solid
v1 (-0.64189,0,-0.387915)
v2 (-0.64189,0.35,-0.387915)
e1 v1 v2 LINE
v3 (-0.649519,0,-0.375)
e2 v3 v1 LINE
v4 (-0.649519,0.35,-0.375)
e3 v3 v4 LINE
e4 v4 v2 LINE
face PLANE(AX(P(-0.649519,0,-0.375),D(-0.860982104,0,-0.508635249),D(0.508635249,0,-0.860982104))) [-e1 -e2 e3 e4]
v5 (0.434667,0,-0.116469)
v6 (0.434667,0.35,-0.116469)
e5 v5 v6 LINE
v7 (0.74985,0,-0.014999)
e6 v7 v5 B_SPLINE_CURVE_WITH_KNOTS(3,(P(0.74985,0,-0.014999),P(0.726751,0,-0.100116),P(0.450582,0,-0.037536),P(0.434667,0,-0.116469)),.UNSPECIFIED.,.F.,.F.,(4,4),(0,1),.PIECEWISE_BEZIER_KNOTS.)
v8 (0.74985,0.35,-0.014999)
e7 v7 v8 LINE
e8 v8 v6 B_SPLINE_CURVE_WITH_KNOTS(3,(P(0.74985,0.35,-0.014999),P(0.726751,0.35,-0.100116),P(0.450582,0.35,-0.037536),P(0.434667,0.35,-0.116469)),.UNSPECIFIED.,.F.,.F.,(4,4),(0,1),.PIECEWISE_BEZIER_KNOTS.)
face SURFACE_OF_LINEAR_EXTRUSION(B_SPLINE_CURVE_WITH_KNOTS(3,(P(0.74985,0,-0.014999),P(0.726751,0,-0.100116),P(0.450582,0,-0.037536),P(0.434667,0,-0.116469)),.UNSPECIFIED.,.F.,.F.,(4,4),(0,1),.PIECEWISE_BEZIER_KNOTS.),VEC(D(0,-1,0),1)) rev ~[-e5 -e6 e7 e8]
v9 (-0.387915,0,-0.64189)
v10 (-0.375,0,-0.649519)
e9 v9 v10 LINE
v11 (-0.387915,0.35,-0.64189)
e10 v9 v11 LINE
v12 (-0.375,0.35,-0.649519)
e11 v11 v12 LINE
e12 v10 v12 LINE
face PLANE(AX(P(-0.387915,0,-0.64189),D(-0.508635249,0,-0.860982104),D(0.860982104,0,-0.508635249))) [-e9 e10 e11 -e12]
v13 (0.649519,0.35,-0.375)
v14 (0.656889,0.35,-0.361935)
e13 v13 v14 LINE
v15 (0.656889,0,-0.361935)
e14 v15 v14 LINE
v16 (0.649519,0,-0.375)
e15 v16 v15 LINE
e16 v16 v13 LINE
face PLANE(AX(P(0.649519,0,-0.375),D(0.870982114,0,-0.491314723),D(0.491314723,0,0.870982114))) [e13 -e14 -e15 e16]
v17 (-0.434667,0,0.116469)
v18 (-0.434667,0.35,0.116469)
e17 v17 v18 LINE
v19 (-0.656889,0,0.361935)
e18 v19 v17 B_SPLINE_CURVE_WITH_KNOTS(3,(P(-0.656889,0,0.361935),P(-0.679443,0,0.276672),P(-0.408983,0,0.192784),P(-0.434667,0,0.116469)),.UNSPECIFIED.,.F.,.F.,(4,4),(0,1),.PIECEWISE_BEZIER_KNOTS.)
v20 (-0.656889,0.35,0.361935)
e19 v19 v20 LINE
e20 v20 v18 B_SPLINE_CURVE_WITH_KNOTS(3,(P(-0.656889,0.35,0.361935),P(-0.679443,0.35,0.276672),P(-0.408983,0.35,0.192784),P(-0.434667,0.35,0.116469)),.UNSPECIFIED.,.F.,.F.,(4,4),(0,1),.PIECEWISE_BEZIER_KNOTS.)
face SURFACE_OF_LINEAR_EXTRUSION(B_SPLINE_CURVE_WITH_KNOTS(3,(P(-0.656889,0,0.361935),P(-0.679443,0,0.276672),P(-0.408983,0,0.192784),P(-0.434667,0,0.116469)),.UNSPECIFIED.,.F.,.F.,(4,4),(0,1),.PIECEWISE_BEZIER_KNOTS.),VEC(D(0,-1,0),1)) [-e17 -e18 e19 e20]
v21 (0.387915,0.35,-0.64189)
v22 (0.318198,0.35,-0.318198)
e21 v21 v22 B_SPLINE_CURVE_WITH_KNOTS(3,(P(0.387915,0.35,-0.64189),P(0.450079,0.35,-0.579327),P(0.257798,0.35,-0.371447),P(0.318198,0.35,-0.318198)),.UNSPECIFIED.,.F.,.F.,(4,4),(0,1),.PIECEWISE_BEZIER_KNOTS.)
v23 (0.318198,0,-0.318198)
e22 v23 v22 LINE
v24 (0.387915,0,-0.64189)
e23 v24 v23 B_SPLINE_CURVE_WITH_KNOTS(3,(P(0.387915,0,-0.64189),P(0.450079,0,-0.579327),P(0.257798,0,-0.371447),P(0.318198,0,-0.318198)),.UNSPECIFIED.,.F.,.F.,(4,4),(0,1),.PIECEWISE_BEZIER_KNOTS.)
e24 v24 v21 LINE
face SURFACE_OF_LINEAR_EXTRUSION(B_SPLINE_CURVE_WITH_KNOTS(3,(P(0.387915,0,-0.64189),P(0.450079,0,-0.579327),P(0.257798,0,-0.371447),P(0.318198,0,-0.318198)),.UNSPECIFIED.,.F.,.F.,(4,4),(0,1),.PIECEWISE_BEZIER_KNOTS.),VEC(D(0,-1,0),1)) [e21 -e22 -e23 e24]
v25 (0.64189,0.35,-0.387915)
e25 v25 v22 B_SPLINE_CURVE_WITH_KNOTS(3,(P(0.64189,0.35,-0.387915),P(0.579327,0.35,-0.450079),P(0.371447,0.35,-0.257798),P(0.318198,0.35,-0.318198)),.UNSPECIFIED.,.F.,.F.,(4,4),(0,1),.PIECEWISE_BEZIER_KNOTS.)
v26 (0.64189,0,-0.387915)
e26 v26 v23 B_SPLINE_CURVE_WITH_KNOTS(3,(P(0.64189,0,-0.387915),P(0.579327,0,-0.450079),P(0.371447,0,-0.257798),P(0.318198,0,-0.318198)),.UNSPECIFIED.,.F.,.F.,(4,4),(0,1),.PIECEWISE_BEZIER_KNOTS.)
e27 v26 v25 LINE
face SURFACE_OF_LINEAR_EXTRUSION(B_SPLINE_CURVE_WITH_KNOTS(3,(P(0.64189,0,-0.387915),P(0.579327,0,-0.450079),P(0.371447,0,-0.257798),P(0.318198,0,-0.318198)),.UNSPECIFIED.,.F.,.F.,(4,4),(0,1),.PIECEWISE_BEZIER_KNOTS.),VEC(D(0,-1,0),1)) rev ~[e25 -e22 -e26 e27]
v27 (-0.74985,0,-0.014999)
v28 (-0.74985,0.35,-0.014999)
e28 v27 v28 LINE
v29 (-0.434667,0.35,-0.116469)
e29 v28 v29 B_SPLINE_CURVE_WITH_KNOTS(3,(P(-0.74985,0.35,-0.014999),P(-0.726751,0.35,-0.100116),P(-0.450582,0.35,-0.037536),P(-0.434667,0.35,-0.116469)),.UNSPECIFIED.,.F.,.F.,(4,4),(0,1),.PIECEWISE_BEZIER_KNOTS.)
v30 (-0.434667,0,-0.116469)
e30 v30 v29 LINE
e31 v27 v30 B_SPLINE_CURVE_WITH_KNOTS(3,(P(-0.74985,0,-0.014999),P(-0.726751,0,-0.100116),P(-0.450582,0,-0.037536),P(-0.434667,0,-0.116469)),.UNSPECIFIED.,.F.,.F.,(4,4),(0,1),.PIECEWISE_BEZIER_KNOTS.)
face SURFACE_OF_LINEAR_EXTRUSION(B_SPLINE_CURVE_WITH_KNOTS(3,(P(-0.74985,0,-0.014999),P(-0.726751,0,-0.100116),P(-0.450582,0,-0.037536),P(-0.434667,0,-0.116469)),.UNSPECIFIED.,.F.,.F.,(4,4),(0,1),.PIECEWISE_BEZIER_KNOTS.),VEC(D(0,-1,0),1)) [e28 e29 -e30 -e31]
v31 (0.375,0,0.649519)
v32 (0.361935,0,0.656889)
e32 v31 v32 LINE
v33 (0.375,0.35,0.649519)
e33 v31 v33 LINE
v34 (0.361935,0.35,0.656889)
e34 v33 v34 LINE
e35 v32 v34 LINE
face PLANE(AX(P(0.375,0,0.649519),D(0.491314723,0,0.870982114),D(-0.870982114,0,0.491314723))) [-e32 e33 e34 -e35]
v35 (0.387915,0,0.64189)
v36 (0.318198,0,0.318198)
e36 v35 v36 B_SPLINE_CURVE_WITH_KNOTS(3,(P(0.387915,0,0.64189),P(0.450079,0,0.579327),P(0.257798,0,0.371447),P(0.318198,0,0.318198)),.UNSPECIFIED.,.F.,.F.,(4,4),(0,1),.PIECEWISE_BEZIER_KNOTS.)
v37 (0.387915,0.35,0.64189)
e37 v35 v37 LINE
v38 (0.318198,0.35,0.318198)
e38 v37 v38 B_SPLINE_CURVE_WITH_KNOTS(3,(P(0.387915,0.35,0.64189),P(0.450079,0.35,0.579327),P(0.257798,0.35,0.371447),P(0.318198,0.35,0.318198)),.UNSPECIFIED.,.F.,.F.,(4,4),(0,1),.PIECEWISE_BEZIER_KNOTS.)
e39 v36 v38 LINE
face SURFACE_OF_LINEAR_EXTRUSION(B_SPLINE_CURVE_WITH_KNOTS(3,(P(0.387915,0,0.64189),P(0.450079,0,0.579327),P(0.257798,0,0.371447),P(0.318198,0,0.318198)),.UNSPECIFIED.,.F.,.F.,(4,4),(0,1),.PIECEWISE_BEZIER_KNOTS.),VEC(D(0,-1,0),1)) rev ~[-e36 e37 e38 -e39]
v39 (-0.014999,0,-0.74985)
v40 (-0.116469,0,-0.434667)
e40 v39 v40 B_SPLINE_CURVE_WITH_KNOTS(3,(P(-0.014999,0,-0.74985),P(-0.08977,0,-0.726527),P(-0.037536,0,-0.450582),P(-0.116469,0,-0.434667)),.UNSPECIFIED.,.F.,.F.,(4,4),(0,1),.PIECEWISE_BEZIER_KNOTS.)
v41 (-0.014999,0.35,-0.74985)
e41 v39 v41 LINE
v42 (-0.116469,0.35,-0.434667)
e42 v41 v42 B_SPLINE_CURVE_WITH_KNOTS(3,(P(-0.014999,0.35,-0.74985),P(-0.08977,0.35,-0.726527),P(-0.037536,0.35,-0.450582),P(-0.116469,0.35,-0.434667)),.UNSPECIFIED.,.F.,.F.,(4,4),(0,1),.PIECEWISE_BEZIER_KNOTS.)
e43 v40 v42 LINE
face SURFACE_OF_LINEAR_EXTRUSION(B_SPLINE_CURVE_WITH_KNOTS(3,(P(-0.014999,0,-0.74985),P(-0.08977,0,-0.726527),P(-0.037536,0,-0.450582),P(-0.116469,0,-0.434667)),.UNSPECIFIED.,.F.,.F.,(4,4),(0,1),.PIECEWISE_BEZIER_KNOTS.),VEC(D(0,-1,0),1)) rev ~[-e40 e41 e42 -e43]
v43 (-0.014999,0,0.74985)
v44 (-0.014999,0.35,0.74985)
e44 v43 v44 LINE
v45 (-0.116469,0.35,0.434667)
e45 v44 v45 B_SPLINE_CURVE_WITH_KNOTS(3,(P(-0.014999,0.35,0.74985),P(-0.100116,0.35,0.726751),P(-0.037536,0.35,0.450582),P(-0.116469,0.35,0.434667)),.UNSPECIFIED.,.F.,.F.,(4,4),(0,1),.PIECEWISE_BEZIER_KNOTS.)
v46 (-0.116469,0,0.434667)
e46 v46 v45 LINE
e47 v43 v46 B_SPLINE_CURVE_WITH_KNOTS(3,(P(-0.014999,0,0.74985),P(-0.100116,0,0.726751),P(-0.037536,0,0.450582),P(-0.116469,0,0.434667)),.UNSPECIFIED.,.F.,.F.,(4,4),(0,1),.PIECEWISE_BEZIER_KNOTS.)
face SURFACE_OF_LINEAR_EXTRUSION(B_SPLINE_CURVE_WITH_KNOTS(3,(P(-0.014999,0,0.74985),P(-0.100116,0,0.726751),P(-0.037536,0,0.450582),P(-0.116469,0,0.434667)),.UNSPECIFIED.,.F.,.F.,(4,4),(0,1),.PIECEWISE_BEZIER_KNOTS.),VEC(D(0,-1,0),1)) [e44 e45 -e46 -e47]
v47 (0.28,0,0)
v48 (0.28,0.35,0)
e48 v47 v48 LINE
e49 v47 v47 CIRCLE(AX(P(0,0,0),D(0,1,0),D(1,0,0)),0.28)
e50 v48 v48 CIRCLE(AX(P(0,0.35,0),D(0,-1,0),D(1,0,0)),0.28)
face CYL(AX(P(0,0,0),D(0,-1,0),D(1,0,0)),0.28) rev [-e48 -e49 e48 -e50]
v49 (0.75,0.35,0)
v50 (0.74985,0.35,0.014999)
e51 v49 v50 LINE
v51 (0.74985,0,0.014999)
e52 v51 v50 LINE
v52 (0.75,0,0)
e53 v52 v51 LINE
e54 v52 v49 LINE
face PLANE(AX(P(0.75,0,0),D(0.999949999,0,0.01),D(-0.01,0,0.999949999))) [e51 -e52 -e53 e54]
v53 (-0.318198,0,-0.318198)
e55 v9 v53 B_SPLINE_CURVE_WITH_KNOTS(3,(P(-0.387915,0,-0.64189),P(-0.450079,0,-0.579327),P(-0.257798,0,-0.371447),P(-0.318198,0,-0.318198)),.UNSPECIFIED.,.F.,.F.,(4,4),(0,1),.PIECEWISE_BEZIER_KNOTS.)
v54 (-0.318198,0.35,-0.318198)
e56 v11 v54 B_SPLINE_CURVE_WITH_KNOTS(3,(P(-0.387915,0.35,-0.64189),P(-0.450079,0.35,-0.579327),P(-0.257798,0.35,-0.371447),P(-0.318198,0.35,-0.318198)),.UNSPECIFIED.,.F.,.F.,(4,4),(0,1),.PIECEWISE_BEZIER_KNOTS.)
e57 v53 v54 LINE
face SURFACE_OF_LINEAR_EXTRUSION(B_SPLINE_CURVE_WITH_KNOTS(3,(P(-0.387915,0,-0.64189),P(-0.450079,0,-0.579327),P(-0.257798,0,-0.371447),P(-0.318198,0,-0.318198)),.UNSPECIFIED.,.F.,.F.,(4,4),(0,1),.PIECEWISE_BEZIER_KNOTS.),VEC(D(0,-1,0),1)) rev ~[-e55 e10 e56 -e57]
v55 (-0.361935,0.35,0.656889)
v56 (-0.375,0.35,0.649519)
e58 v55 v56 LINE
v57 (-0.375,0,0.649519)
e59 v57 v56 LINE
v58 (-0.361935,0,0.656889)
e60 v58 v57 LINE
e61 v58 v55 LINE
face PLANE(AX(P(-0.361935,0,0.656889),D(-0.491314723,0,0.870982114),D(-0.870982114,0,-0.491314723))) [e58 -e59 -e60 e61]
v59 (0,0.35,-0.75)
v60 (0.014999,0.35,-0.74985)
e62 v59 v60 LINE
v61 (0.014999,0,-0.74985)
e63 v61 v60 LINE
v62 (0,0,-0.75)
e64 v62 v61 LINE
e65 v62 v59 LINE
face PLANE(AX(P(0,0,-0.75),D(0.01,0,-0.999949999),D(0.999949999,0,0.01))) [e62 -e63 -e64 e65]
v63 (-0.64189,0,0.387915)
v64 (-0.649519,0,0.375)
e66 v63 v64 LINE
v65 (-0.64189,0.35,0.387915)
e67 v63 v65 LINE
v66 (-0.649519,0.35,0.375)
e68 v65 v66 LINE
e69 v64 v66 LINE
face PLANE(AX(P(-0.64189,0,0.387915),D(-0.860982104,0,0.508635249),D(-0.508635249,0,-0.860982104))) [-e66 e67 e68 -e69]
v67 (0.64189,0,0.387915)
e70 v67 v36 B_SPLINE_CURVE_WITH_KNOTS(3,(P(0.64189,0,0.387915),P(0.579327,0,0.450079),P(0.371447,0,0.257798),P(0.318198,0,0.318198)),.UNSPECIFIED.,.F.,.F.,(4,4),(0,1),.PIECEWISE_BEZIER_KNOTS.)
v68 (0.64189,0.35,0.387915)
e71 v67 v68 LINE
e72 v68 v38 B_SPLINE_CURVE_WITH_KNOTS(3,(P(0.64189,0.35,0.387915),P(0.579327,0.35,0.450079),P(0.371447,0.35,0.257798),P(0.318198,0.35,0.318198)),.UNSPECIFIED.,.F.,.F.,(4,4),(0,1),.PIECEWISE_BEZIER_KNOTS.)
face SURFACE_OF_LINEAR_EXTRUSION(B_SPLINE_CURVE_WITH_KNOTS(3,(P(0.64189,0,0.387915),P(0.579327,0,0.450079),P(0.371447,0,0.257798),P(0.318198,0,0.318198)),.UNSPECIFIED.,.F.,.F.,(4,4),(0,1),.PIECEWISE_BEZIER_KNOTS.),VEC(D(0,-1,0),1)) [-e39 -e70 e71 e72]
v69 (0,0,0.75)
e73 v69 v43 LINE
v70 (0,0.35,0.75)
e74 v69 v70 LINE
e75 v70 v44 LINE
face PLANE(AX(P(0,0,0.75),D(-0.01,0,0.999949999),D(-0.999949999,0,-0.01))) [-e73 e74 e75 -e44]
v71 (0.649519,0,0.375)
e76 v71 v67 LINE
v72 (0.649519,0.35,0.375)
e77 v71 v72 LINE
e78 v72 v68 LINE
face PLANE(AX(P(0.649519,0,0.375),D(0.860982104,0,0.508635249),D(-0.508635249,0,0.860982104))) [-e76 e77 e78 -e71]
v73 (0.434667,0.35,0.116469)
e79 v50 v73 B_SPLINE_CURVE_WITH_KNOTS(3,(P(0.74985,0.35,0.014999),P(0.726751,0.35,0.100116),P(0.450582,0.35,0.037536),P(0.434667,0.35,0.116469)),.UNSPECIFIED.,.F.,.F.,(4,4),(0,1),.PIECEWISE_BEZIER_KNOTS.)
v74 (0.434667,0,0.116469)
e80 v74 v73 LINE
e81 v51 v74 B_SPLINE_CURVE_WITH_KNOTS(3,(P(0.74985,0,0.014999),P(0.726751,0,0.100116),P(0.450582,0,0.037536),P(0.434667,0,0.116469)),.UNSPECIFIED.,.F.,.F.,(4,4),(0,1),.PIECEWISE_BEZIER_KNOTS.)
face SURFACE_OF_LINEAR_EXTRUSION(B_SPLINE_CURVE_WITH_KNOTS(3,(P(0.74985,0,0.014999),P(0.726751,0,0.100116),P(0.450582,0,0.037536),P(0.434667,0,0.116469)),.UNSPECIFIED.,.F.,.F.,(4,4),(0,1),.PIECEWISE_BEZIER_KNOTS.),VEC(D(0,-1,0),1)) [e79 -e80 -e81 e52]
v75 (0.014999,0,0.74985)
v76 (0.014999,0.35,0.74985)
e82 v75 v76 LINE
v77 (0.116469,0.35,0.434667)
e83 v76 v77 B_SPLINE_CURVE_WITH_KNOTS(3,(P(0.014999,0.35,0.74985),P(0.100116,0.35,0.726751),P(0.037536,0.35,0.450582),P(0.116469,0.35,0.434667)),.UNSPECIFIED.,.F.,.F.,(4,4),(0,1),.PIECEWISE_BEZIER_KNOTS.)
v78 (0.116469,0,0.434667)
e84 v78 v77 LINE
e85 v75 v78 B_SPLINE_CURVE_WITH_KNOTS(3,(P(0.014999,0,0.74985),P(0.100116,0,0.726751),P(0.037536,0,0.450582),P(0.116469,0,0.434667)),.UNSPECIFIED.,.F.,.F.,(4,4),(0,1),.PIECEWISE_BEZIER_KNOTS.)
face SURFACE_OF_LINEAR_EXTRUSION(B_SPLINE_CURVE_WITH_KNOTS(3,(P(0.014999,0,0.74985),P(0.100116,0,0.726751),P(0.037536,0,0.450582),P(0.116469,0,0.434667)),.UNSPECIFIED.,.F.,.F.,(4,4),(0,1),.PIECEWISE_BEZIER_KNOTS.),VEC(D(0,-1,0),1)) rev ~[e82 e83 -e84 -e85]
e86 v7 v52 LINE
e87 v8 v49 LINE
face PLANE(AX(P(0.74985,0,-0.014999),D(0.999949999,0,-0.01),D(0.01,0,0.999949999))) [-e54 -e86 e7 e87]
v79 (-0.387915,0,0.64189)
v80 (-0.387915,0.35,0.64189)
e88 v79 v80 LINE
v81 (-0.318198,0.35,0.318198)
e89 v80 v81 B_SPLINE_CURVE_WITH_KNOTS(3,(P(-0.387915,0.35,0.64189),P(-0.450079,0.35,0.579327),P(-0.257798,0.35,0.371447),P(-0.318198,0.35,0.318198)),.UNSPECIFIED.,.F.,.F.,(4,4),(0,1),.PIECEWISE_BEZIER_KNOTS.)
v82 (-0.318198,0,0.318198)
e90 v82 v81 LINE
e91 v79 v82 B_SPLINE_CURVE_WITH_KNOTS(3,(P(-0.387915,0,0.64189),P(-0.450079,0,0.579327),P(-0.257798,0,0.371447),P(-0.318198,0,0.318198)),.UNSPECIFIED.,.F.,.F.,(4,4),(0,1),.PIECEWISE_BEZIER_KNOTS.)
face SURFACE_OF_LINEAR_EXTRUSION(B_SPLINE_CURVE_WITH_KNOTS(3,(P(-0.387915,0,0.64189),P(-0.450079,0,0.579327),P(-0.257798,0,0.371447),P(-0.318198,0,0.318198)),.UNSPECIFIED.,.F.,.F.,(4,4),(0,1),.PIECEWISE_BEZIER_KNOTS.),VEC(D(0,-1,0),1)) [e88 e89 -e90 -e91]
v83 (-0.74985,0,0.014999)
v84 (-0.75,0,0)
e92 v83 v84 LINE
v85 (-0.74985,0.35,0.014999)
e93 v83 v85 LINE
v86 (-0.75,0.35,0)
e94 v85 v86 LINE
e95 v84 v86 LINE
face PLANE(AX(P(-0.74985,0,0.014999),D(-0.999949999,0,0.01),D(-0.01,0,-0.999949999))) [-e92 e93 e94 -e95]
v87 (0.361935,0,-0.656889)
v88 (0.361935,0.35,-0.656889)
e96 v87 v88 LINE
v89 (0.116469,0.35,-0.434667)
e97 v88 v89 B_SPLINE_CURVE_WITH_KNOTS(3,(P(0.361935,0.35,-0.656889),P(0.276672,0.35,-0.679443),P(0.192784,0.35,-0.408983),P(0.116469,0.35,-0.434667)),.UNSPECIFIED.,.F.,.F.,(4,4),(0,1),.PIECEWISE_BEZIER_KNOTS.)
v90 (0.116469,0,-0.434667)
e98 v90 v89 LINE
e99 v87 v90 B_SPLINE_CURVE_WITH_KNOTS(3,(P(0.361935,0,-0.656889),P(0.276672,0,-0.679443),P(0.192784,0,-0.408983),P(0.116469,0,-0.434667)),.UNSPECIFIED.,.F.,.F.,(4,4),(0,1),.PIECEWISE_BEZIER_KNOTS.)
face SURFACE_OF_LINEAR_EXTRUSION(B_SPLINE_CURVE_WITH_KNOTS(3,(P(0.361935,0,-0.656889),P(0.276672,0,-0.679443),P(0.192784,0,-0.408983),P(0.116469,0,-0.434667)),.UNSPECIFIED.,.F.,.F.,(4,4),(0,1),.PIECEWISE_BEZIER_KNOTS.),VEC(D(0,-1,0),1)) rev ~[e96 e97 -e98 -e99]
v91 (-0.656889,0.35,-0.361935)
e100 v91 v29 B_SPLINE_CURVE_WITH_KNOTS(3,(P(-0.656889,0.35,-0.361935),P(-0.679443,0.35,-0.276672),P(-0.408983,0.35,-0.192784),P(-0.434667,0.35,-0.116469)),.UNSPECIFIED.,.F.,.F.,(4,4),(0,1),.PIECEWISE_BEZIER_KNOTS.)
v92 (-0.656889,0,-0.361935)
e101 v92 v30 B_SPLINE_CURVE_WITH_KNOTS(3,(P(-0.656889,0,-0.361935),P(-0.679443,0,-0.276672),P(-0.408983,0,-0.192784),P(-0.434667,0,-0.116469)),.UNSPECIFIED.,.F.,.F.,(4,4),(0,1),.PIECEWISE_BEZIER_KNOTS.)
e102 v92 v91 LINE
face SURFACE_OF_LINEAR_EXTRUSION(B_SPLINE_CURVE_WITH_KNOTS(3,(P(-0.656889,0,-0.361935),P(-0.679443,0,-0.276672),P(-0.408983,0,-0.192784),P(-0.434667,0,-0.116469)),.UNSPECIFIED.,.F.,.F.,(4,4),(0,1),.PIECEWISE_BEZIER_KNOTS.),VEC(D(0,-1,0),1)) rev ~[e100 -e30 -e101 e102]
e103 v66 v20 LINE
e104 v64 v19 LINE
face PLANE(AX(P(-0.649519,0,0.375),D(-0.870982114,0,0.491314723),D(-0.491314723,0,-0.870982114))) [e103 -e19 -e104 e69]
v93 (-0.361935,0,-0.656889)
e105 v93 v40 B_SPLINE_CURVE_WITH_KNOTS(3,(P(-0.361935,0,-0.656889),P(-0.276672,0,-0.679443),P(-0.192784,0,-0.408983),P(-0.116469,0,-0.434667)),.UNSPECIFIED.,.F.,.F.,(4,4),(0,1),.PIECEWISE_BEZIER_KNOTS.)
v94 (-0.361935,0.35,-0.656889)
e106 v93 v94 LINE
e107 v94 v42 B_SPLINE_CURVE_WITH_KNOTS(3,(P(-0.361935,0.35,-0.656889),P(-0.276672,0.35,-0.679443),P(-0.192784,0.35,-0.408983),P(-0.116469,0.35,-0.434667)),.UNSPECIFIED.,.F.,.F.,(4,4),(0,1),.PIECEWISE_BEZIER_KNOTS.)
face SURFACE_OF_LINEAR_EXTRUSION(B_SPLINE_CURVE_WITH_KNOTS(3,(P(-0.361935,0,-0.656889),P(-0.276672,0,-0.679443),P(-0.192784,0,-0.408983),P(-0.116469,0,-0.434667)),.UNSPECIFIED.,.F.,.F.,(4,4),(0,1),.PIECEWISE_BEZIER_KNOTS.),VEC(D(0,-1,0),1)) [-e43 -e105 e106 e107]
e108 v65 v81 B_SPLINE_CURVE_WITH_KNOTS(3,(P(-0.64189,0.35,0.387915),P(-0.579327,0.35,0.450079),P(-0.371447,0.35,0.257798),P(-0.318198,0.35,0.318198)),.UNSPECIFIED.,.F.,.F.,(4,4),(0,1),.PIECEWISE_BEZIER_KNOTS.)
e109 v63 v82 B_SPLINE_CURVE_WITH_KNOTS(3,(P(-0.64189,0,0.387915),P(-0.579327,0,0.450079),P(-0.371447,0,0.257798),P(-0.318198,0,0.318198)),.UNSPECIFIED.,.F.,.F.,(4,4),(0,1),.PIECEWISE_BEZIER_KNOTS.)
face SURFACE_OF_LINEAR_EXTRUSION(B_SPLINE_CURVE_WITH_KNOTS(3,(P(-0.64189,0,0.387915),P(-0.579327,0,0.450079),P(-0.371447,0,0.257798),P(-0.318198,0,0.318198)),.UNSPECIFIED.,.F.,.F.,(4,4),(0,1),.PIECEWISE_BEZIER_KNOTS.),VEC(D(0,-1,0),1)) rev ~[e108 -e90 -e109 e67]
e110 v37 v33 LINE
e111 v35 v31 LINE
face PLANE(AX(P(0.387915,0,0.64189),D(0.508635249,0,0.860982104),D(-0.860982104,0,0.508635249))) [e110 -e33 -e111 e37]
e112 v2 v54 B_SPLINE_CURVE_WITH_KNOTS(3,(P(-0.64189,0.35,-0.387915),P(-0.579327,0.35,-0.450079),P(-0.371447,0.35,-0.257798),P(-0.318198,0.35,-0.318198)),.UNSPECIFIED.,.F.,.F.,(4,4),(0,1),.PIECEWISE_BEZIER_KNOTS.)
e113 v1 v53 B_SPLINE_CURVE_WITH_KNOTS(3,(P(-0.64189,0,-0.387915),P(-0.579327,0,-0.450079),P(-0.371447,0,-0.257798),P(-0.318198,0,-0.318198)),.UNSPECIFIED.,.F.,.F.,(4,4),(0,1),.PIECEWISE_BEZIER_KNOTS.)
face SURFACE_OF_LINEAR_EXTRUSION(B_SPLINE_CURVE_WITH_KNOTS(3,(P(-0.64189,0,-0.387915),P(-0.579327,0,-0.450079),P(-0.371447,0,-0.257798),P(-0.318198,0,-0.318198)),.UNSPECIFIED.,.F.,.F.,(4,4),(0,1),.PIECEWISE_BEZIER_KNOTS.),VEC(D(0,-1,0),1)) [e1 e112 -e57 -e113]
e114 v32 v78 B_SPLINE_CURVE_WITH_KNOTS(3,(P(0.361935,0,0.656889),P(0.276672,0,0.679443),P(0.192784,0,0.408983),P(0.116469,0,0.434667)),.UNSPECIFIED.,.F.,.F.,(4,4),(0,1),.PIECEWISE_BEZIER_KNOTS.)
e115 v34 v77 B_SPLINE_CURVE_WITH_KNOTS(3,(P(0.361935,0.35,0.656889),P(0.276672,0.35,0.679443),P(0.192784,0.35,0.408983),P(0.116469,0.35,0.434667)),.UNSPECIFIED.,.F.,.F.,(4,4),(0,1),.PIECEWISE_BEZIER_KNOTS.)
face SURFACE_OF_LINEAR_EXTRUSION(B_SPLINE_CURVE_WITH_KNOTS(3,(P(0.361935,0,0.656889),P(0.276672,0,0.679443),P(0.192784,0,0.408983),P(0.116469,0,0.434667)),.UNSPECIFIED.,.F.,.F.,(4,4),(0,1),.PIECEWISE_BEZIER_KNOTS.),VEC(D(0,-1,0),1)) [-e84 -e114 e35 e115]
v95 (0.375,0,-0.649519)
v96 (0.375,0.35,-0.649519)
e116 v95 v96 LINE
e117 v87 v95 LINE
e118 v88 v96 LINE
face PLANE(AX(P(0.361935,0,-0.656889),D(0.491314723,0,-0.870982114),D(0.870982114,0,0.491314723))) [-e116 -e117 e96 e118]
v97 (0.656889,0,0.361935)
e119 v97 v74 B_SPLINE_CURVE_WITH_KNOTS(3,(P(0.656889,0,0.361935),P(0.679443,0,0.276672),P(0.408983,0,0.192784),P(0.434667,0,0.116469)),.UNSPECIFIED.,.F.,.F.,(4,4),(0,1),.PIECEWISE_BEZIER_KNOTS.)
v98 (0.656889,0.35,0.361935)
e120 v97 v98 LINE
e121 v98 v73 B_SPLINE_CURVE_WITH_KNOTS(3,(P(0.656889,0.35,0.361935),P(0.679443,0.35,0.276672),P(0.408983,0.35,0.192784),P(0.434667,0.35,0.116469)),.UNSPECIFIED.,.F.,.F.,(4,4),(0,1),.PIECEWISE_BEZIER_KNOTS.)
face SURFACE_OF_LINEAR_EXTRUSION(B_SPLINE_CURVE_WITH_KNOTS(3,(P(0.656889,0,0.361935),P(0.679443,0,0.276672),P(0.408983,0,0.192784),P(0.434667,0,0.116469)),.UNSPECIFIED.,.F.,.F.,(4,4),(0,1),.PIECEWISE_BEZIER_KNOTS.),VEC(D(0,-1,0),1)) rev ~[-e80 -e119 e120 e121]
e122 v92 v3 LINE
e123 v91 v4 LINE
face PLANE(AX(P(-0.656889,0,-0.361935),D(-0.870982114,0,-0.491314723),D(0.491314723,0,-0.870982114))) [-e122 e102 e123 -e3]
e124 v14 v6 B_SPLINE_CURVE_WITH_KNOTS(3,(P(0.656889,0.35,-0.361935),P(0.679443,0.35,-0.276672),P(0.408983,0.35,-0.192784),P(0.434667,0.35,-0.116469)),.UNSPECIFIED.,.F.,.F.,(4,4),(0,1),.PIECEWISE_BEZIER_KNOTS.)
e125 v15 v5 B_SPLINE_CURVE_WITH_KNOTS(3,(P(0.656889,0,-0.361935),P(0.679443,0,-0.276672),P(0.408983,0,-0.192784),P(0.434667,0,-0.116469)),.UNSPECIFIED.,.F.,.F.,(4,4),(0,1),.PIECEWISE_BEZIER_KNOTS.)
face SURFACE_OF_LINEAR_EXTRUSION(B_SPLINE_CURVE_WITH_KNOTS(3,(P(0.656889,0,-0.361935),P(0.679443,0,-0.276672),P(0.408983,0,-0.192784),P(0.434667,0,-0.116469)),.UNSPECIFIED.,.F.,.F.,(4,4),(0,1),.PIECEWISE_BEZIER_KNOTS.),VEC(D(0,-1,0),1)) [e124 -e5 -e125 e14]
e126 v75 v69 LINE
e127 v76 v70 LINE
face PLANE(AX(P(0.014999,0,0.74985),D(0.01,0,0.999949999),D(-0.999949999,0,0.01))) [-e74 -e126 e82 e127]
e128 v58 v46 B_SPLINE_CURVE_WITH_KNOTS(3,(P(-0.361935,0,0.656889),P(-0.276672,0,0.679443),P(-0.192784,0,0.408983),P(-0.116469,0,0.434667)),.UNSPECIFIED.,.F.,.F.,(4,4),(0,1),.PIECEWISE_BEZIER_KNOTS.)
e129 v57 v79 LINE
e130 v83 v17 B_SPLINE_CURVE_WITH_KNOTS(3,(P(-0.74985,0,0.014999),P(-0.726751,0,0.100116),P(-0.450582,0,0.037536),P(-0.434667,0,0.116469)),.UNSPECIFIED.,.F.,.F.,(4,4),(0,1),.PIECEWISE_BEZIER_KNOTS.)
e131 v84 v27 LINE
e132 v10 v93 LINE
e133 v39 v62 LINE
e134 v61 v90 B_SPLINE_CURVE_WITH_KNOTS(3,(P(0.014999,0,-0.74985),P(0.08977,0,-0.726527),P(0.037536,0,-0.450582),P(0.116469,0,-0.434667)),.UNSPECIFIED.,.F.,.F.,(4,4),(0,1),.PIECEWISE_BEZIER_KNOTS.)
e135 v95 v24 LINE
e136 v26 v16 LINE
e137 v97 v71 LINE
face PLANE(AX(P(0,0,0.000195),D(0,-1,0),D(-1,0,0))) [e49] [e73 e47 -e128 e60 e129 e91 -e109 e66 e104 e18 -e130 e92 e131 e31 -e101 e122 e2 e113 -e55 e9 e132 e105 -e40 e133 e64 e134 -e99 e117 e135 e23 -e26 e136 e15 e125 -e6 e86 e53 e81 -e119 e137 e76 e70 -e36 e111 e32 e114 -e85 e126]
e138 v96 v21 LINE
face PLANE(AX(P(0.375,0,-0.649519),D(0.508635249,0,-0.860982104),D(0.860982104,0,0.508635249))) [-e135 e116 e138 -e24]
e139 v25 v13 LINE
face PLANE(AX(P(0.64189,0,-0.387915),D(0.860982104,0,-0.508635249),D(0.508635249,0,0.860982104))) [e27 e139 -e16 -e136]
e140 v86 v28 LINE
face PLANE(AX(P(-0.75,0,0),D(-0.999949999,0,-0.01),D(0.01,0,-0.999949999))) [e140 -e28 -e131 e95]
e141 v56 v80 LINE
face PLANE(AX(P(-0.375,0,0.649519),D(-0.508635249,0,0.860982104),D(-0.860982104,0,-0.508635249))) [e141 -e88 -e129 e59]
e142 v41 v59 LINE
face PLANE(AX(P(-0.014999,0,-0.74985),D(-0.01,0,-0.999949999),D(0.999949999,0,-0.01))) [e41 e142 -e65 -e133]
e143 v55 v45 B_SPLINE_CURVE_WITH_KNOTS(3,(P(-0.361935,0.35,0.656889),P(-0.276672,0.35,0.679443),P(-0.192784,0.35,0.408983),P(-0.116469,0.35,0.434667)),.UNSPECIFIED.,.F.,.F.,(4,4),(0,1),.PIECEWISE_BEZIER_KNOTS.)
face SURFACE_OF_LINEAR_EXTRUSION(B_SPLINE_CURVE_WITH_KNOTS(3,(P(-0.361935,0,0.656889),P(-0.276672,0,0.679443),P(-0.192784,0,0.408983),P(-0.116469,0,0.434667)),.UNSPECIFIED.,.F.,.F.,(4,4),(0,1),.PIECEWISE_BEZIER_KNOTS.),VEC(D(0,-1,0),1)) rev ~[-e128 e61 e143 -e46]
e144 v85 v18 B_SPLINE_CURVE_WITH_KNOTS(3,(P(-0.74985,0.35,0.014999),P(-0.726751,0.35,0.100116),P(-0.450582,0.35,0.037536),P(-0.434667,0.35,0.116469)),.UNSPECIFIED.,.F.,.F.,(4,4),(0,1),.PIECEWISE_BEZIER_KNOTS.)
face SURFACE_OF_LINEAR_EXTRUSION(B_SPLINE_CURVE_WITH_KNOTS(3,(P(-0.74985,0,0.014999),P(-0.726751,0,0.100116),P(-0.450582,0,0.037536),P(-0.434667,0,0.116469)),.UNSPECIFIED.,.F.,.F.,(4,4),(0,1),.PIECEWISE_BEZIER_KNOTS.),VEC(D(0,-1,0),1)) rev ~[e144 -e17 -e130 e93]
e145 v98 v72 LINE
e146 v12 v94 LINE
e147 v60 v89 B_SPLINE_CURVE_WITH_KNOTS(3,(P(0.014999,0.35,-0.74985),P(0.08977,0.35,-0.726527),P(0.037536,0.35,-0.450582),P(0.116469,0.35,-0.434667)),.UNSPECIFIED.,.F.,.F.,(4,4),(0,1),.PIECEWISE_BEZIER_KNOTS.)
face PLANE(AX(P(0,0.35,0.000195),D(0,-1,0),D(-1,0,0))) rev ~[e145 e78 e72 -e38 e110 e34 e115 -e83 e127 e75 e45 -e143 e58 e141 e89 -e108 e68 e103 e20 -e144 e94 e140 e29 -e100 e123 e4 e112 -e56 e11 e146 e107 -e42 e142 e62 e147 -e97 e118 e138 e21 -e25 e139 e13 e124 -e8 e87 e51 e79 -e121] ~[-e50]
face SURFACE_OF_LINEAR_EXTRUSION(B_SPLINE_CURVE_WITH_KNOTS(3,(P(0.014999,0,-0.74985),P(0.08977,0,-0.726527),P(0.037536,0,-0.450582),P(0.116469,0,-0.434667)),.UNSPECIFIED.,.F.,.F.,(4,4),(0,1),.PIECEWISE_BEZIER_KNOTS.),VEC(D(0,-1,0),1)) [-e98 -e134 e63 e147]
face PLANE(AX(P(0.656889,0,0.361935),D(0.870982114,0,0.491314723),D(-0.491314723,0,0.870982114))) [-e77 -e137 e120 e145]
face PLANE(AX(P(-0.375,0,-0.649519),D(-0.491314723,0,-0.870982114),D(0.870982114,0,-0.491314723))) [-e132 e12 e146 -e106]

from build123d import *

# Parameters (mm, degrees)
BOSS_EXTRUDE1_DEPTH = 0.35
SKETCH2_R           = 0.28
CUT_EXTRUDE1_DEPTH  = 1.3500001


with BuildPart() as part:
    # Sketch1 → Boss-Extrude1 (new body)
    with BuildSketch(Plane(origin=(0, 0, 0), x_dir=(1, 0, 0), z_dir=(0, 1, 0))):
        with BuildLine():
            Line((0, 0.75), (0.01499925, 0.74985))
            add(Edge.make_bspline(
                [(0.01499925, 0.74985), (0.089770208, 0.726526589), (0.037536283, 0.45058181), (0.11646857, 0.434666622)],
                knots=[0, 0, 0, 0, 1, 1, 1, 1], degree=3))
            add(Edge.make_bspline(
                [(0.361935268, 0.656888774), (0.27667218, 0.679442999), (0.19278353, 0.408983436), (0.11646857, 0.434666622)],
                knots=[0, 0, 0, 0, 1, 1, 1, 1], degree=3))
            Line((0.361935268, 0.656888774), (0.375, 0.649519053))
            Line((0.375, 0.649519053), (0.387914732, 0.641889524))
            add(Edge.make_bspline(
                [(0.387914732, 0.641889524), (0.450078807, 0.579326636), (0.25779828, 0.371447153), (0.318198052, 0.318198052)],
                knots=[0, 0, 0, 0, 1, 1, 1, 1], degree=3))
            add(Edge.make_bspline(
                [(0.641889524, 0.387914732), (0.579326636, 0.450078807), (0.371447153, 0.25779828), (0.318198052, 0.318198052)],
                knots=[0, 0, 0, 0, 1, 1, 1, 1], degree=3))
            Line((0.641889524, 0.387914732), (0.649519053, 0.375))
            Line((0.649519053, 0.375), (0.656888774, 0.361935268))
            add(Edge.make_bspline(
                [(0.656888774, 0.361935268), (0.679442999, 0.27667218), (0.408983436, 0.19278353), (0.434666622, 0.11646857)],
                knots=[0, 0, 0, 0, 1, 1, 1, 1], degree=3))
            add(Edge.make_bspline(
                [(0.74985, 0.01499925), (0.726750987, 0.100116363), (0.45058181, 0.037536283), (0.434666622, 0.11646857)],
                knots=[0, 0, 0, 0, 1, 1, 1, 1], degree=3))
            Line((0.74985, 0.01499925), (0.75, 0))
            Line((0.75, 0), (0.74985, -0.01499925))
            add(Edge.make_bspline(
                [(0.74985, -0.01499925), (0.726750987, -0.100116363), (0.45058181, -0.037536283), (0.434666622, -0.11646857)],
                knots=[0, 0, 0, 0, 1, 1, 1, 1], degree=3))
            add(Edge.make_bspline(
                [(0.656888774, -0.361935268), (0.679442999, -0.27667218), (0.408983436, -0.19278353), (0.434666622, -0.11646857)],
                knots=[0, 0, 0, 0, 1, 1, 1, 1], degree=3))
            Line((0.656888774, -0.361935268), (0.649519053, -0.375))
            Line((0.649519053, -0.375), (0.641889524, -0.387914732))
            add(Edge.make_bspline(
                [(0.641889524, -0.387914732), (0.579326636, -0.450078807), (0.371447153, -0.25779828), (0.318198052, -0.318198052)],
                knots=[0, 0, 0, 0, 1, 1, 1, 1], degree=3))
            add(Edge.make_bspline(
                [(0.387914732, -0.641889524), (0.450078807, -0.579326636), (0.25779828, -0.371447153), (0.318198052, -0.318198052)],
                knots=[0, 0, 0, 0, 1, 1, 1, 1], degree=3))
            Line((0.387914732, -0.641889524), (0.375, -0.649519053))
            Line((0.375, -0.649519053), (0.361935268, -0.656888774))
            add(Edge.make_bspline(
                [(0.361935268, -0.656888774), (0.27667218, -0.679442999), (0.19278353, -0.408983436), (0.11646857, -0.434666622)],
                knots=[0, 0, 0, 0, 1, 1, 1, 1], degree=3))
            add(Edge.make_bspline(
                [(0.01499925, -0.74985), (0.100116363, -0.726750987), (0.037536283, -0.45058181), (0.11646857, -0.434666622)],
                knots=[0, 0, 0, 0, 1, 1, 1, 1], degree=3))
            Line((0.01499925, -0.74985), (0, -0.75))
            Line((0, -0.75), (-0.01499925, -0.74985))
            add(Edge.make_bspline(
                [(-0.01499925, -0.74985), (-0.100116363, -0.726750987), (-0.037536283, -0.45058181), (-0.11646857, -0.434666622)],
                knots=[0, 0, 0, 0, 1, 1, 1, 1], degree=3))
            add(Edge.make_bspline(
                [(-0.361935268, -0.656888774), (-0.27667218, -0.679442999), (-0.19278353, -0.408983436), (-0.11646857, -0.434666622)],
                knots=[0, 0, 0, 0, 1, 1, 1, 1], degree=3))
            Line((-0.361935268, -0.656888774), (-0.375, -0.649519053))
            Line((-0.375, -0.649519053), (-0.387914732, -0.641889524))
            add(Edge.make_bspline(
                [(-0.387914732, -0.641889524), (-0.450078807, -0.579326636), (-0.25779828, -0.371447153), (-0.318198052, -0.318198052)],
                knots=[0, 0, 0, 0, 1, 1, 1, 1], degree=3))
            add(Edge.make_bspline(
                [(-0.641889524, -0.387914732), (-0.579326636, -0.450078807), (-0.371447153, -0.25779828), (-0.318198052, -0.318198052)],
                knots=[0, 0, 0, 0, 1, 1, 1, 1], degree=3))
            Line((-0.641889524, -0.387914732), (-0.649519053, -0.375))
            Line((-0.649519053, -0.375), (-0.656888774, -0.361935268))
            add(Edge.make_bspline(
                [(-0.656888774, -0.361935268), (-0.679442999, -0.27667218), (-0.408983436, -0.19278353), (-0.434666622, -0.11646857)],
                knots=[0, 0, 0, 0, 1, 1, 1, 1], degree=3))
            add(Edge.make_bspline(
                [(-0.74985, -0.01499925), (-0.726750987, -0.100116363), (-0.45058181, -0.037536283), (-0.434666622, -0.11646857)],
                knots=[0, 0, 0, 0, 1, 1, 1, 1], degree=3))
            Line((-0.74985, -0.01499925), (-0.75, 0))
            Line((-0.75, 0), (-0.74985, 0.01499925))
            add(Edge.make_bspline(
                [(-0.74985, 0.01499925), (-0.726750987, 0.100116363), (-0.45058181, 0.037536283), (-0.434666622, 0.11646857)],
                knots=[0, 0, 0, 0, 1, 1, 1, 1], degree=3))
            add(Edge.make_bspline(
                [(-0.656888774, 0.361935268), (-0.679442999, 0.27667218), (-0.408983436, 0.19278353), (-0.434666622, 0.11646857)],
                knots=[0, 0, 0, 0, 1, 1, 1, 1], degree=3))
            Line((-0.656888774, 0.361935268), (-0.649519053, 0.375))
            Line((-0.649519053, 0.375), (-0.641889524, 0.387914732))
            add(Edge.make_bspline(
                [(-0.641889524, 0.387914732), (-0.579326636, 0.450078807), (-0.371447153, 0.25779828), (-0.318198052, 0.318198052)],
                knots=[0, 0, 0, 0, 1, 1, 1, 1], degree=3))
            add(Edge.make_bspline(
                [(-0.387914732, 0.641889524), (-0.450078807, 0.579326636), (-0.25779828, 0.371447153), (-0.318198052, 0.318198052)],
                knots=[0, 0, 0, 0, 1, 1, 1, 1], degree=3))
            Line((-0.387914732, 0.641889524), (-0.375, 0.649519053))
            Line((-0.375, 0.649519053), (-0.361935268, 0.656888774))
            add(Edge.make_bspline(
                [(-0.361935268, 0.656888774), (-0.27667218, 0.679442999), (-0.19278353, 0.408983436), (-0.11646857, 0.434666622)],
                knots=[0, 0, 0, 0, 1, 1, 1, 1], degree=3))
            add(Edge.make_bspline(
                [(-0.01499925, 0.74985), (-0.089770208, 0.726526589), (-0.037536283, 0.45058181), (-0.11646857, 0.434666622)],
                knots=[0, 0, 0, 0, 1, 1, 1, 1], degree=3))
            Line((-0.01499925, 0.74985), (0, 0.75))
        make_face()
    extrude(amount=BOSS_EXTRUDE1_DEPTH)

    # Sketch2 → Cut-Extrude1 (cut, through all)
    with BuildSketch(Plane(origin=(0, 0, 0), x_dir=(1, 0, 0), z_dir=(0, 1, 0))):
        Circle(SKETCH2_R)
    extrude(amount=CUT_EXTRUDE1_DEPTH, mode=Mode.SUBTRACT)


solid = part.part
